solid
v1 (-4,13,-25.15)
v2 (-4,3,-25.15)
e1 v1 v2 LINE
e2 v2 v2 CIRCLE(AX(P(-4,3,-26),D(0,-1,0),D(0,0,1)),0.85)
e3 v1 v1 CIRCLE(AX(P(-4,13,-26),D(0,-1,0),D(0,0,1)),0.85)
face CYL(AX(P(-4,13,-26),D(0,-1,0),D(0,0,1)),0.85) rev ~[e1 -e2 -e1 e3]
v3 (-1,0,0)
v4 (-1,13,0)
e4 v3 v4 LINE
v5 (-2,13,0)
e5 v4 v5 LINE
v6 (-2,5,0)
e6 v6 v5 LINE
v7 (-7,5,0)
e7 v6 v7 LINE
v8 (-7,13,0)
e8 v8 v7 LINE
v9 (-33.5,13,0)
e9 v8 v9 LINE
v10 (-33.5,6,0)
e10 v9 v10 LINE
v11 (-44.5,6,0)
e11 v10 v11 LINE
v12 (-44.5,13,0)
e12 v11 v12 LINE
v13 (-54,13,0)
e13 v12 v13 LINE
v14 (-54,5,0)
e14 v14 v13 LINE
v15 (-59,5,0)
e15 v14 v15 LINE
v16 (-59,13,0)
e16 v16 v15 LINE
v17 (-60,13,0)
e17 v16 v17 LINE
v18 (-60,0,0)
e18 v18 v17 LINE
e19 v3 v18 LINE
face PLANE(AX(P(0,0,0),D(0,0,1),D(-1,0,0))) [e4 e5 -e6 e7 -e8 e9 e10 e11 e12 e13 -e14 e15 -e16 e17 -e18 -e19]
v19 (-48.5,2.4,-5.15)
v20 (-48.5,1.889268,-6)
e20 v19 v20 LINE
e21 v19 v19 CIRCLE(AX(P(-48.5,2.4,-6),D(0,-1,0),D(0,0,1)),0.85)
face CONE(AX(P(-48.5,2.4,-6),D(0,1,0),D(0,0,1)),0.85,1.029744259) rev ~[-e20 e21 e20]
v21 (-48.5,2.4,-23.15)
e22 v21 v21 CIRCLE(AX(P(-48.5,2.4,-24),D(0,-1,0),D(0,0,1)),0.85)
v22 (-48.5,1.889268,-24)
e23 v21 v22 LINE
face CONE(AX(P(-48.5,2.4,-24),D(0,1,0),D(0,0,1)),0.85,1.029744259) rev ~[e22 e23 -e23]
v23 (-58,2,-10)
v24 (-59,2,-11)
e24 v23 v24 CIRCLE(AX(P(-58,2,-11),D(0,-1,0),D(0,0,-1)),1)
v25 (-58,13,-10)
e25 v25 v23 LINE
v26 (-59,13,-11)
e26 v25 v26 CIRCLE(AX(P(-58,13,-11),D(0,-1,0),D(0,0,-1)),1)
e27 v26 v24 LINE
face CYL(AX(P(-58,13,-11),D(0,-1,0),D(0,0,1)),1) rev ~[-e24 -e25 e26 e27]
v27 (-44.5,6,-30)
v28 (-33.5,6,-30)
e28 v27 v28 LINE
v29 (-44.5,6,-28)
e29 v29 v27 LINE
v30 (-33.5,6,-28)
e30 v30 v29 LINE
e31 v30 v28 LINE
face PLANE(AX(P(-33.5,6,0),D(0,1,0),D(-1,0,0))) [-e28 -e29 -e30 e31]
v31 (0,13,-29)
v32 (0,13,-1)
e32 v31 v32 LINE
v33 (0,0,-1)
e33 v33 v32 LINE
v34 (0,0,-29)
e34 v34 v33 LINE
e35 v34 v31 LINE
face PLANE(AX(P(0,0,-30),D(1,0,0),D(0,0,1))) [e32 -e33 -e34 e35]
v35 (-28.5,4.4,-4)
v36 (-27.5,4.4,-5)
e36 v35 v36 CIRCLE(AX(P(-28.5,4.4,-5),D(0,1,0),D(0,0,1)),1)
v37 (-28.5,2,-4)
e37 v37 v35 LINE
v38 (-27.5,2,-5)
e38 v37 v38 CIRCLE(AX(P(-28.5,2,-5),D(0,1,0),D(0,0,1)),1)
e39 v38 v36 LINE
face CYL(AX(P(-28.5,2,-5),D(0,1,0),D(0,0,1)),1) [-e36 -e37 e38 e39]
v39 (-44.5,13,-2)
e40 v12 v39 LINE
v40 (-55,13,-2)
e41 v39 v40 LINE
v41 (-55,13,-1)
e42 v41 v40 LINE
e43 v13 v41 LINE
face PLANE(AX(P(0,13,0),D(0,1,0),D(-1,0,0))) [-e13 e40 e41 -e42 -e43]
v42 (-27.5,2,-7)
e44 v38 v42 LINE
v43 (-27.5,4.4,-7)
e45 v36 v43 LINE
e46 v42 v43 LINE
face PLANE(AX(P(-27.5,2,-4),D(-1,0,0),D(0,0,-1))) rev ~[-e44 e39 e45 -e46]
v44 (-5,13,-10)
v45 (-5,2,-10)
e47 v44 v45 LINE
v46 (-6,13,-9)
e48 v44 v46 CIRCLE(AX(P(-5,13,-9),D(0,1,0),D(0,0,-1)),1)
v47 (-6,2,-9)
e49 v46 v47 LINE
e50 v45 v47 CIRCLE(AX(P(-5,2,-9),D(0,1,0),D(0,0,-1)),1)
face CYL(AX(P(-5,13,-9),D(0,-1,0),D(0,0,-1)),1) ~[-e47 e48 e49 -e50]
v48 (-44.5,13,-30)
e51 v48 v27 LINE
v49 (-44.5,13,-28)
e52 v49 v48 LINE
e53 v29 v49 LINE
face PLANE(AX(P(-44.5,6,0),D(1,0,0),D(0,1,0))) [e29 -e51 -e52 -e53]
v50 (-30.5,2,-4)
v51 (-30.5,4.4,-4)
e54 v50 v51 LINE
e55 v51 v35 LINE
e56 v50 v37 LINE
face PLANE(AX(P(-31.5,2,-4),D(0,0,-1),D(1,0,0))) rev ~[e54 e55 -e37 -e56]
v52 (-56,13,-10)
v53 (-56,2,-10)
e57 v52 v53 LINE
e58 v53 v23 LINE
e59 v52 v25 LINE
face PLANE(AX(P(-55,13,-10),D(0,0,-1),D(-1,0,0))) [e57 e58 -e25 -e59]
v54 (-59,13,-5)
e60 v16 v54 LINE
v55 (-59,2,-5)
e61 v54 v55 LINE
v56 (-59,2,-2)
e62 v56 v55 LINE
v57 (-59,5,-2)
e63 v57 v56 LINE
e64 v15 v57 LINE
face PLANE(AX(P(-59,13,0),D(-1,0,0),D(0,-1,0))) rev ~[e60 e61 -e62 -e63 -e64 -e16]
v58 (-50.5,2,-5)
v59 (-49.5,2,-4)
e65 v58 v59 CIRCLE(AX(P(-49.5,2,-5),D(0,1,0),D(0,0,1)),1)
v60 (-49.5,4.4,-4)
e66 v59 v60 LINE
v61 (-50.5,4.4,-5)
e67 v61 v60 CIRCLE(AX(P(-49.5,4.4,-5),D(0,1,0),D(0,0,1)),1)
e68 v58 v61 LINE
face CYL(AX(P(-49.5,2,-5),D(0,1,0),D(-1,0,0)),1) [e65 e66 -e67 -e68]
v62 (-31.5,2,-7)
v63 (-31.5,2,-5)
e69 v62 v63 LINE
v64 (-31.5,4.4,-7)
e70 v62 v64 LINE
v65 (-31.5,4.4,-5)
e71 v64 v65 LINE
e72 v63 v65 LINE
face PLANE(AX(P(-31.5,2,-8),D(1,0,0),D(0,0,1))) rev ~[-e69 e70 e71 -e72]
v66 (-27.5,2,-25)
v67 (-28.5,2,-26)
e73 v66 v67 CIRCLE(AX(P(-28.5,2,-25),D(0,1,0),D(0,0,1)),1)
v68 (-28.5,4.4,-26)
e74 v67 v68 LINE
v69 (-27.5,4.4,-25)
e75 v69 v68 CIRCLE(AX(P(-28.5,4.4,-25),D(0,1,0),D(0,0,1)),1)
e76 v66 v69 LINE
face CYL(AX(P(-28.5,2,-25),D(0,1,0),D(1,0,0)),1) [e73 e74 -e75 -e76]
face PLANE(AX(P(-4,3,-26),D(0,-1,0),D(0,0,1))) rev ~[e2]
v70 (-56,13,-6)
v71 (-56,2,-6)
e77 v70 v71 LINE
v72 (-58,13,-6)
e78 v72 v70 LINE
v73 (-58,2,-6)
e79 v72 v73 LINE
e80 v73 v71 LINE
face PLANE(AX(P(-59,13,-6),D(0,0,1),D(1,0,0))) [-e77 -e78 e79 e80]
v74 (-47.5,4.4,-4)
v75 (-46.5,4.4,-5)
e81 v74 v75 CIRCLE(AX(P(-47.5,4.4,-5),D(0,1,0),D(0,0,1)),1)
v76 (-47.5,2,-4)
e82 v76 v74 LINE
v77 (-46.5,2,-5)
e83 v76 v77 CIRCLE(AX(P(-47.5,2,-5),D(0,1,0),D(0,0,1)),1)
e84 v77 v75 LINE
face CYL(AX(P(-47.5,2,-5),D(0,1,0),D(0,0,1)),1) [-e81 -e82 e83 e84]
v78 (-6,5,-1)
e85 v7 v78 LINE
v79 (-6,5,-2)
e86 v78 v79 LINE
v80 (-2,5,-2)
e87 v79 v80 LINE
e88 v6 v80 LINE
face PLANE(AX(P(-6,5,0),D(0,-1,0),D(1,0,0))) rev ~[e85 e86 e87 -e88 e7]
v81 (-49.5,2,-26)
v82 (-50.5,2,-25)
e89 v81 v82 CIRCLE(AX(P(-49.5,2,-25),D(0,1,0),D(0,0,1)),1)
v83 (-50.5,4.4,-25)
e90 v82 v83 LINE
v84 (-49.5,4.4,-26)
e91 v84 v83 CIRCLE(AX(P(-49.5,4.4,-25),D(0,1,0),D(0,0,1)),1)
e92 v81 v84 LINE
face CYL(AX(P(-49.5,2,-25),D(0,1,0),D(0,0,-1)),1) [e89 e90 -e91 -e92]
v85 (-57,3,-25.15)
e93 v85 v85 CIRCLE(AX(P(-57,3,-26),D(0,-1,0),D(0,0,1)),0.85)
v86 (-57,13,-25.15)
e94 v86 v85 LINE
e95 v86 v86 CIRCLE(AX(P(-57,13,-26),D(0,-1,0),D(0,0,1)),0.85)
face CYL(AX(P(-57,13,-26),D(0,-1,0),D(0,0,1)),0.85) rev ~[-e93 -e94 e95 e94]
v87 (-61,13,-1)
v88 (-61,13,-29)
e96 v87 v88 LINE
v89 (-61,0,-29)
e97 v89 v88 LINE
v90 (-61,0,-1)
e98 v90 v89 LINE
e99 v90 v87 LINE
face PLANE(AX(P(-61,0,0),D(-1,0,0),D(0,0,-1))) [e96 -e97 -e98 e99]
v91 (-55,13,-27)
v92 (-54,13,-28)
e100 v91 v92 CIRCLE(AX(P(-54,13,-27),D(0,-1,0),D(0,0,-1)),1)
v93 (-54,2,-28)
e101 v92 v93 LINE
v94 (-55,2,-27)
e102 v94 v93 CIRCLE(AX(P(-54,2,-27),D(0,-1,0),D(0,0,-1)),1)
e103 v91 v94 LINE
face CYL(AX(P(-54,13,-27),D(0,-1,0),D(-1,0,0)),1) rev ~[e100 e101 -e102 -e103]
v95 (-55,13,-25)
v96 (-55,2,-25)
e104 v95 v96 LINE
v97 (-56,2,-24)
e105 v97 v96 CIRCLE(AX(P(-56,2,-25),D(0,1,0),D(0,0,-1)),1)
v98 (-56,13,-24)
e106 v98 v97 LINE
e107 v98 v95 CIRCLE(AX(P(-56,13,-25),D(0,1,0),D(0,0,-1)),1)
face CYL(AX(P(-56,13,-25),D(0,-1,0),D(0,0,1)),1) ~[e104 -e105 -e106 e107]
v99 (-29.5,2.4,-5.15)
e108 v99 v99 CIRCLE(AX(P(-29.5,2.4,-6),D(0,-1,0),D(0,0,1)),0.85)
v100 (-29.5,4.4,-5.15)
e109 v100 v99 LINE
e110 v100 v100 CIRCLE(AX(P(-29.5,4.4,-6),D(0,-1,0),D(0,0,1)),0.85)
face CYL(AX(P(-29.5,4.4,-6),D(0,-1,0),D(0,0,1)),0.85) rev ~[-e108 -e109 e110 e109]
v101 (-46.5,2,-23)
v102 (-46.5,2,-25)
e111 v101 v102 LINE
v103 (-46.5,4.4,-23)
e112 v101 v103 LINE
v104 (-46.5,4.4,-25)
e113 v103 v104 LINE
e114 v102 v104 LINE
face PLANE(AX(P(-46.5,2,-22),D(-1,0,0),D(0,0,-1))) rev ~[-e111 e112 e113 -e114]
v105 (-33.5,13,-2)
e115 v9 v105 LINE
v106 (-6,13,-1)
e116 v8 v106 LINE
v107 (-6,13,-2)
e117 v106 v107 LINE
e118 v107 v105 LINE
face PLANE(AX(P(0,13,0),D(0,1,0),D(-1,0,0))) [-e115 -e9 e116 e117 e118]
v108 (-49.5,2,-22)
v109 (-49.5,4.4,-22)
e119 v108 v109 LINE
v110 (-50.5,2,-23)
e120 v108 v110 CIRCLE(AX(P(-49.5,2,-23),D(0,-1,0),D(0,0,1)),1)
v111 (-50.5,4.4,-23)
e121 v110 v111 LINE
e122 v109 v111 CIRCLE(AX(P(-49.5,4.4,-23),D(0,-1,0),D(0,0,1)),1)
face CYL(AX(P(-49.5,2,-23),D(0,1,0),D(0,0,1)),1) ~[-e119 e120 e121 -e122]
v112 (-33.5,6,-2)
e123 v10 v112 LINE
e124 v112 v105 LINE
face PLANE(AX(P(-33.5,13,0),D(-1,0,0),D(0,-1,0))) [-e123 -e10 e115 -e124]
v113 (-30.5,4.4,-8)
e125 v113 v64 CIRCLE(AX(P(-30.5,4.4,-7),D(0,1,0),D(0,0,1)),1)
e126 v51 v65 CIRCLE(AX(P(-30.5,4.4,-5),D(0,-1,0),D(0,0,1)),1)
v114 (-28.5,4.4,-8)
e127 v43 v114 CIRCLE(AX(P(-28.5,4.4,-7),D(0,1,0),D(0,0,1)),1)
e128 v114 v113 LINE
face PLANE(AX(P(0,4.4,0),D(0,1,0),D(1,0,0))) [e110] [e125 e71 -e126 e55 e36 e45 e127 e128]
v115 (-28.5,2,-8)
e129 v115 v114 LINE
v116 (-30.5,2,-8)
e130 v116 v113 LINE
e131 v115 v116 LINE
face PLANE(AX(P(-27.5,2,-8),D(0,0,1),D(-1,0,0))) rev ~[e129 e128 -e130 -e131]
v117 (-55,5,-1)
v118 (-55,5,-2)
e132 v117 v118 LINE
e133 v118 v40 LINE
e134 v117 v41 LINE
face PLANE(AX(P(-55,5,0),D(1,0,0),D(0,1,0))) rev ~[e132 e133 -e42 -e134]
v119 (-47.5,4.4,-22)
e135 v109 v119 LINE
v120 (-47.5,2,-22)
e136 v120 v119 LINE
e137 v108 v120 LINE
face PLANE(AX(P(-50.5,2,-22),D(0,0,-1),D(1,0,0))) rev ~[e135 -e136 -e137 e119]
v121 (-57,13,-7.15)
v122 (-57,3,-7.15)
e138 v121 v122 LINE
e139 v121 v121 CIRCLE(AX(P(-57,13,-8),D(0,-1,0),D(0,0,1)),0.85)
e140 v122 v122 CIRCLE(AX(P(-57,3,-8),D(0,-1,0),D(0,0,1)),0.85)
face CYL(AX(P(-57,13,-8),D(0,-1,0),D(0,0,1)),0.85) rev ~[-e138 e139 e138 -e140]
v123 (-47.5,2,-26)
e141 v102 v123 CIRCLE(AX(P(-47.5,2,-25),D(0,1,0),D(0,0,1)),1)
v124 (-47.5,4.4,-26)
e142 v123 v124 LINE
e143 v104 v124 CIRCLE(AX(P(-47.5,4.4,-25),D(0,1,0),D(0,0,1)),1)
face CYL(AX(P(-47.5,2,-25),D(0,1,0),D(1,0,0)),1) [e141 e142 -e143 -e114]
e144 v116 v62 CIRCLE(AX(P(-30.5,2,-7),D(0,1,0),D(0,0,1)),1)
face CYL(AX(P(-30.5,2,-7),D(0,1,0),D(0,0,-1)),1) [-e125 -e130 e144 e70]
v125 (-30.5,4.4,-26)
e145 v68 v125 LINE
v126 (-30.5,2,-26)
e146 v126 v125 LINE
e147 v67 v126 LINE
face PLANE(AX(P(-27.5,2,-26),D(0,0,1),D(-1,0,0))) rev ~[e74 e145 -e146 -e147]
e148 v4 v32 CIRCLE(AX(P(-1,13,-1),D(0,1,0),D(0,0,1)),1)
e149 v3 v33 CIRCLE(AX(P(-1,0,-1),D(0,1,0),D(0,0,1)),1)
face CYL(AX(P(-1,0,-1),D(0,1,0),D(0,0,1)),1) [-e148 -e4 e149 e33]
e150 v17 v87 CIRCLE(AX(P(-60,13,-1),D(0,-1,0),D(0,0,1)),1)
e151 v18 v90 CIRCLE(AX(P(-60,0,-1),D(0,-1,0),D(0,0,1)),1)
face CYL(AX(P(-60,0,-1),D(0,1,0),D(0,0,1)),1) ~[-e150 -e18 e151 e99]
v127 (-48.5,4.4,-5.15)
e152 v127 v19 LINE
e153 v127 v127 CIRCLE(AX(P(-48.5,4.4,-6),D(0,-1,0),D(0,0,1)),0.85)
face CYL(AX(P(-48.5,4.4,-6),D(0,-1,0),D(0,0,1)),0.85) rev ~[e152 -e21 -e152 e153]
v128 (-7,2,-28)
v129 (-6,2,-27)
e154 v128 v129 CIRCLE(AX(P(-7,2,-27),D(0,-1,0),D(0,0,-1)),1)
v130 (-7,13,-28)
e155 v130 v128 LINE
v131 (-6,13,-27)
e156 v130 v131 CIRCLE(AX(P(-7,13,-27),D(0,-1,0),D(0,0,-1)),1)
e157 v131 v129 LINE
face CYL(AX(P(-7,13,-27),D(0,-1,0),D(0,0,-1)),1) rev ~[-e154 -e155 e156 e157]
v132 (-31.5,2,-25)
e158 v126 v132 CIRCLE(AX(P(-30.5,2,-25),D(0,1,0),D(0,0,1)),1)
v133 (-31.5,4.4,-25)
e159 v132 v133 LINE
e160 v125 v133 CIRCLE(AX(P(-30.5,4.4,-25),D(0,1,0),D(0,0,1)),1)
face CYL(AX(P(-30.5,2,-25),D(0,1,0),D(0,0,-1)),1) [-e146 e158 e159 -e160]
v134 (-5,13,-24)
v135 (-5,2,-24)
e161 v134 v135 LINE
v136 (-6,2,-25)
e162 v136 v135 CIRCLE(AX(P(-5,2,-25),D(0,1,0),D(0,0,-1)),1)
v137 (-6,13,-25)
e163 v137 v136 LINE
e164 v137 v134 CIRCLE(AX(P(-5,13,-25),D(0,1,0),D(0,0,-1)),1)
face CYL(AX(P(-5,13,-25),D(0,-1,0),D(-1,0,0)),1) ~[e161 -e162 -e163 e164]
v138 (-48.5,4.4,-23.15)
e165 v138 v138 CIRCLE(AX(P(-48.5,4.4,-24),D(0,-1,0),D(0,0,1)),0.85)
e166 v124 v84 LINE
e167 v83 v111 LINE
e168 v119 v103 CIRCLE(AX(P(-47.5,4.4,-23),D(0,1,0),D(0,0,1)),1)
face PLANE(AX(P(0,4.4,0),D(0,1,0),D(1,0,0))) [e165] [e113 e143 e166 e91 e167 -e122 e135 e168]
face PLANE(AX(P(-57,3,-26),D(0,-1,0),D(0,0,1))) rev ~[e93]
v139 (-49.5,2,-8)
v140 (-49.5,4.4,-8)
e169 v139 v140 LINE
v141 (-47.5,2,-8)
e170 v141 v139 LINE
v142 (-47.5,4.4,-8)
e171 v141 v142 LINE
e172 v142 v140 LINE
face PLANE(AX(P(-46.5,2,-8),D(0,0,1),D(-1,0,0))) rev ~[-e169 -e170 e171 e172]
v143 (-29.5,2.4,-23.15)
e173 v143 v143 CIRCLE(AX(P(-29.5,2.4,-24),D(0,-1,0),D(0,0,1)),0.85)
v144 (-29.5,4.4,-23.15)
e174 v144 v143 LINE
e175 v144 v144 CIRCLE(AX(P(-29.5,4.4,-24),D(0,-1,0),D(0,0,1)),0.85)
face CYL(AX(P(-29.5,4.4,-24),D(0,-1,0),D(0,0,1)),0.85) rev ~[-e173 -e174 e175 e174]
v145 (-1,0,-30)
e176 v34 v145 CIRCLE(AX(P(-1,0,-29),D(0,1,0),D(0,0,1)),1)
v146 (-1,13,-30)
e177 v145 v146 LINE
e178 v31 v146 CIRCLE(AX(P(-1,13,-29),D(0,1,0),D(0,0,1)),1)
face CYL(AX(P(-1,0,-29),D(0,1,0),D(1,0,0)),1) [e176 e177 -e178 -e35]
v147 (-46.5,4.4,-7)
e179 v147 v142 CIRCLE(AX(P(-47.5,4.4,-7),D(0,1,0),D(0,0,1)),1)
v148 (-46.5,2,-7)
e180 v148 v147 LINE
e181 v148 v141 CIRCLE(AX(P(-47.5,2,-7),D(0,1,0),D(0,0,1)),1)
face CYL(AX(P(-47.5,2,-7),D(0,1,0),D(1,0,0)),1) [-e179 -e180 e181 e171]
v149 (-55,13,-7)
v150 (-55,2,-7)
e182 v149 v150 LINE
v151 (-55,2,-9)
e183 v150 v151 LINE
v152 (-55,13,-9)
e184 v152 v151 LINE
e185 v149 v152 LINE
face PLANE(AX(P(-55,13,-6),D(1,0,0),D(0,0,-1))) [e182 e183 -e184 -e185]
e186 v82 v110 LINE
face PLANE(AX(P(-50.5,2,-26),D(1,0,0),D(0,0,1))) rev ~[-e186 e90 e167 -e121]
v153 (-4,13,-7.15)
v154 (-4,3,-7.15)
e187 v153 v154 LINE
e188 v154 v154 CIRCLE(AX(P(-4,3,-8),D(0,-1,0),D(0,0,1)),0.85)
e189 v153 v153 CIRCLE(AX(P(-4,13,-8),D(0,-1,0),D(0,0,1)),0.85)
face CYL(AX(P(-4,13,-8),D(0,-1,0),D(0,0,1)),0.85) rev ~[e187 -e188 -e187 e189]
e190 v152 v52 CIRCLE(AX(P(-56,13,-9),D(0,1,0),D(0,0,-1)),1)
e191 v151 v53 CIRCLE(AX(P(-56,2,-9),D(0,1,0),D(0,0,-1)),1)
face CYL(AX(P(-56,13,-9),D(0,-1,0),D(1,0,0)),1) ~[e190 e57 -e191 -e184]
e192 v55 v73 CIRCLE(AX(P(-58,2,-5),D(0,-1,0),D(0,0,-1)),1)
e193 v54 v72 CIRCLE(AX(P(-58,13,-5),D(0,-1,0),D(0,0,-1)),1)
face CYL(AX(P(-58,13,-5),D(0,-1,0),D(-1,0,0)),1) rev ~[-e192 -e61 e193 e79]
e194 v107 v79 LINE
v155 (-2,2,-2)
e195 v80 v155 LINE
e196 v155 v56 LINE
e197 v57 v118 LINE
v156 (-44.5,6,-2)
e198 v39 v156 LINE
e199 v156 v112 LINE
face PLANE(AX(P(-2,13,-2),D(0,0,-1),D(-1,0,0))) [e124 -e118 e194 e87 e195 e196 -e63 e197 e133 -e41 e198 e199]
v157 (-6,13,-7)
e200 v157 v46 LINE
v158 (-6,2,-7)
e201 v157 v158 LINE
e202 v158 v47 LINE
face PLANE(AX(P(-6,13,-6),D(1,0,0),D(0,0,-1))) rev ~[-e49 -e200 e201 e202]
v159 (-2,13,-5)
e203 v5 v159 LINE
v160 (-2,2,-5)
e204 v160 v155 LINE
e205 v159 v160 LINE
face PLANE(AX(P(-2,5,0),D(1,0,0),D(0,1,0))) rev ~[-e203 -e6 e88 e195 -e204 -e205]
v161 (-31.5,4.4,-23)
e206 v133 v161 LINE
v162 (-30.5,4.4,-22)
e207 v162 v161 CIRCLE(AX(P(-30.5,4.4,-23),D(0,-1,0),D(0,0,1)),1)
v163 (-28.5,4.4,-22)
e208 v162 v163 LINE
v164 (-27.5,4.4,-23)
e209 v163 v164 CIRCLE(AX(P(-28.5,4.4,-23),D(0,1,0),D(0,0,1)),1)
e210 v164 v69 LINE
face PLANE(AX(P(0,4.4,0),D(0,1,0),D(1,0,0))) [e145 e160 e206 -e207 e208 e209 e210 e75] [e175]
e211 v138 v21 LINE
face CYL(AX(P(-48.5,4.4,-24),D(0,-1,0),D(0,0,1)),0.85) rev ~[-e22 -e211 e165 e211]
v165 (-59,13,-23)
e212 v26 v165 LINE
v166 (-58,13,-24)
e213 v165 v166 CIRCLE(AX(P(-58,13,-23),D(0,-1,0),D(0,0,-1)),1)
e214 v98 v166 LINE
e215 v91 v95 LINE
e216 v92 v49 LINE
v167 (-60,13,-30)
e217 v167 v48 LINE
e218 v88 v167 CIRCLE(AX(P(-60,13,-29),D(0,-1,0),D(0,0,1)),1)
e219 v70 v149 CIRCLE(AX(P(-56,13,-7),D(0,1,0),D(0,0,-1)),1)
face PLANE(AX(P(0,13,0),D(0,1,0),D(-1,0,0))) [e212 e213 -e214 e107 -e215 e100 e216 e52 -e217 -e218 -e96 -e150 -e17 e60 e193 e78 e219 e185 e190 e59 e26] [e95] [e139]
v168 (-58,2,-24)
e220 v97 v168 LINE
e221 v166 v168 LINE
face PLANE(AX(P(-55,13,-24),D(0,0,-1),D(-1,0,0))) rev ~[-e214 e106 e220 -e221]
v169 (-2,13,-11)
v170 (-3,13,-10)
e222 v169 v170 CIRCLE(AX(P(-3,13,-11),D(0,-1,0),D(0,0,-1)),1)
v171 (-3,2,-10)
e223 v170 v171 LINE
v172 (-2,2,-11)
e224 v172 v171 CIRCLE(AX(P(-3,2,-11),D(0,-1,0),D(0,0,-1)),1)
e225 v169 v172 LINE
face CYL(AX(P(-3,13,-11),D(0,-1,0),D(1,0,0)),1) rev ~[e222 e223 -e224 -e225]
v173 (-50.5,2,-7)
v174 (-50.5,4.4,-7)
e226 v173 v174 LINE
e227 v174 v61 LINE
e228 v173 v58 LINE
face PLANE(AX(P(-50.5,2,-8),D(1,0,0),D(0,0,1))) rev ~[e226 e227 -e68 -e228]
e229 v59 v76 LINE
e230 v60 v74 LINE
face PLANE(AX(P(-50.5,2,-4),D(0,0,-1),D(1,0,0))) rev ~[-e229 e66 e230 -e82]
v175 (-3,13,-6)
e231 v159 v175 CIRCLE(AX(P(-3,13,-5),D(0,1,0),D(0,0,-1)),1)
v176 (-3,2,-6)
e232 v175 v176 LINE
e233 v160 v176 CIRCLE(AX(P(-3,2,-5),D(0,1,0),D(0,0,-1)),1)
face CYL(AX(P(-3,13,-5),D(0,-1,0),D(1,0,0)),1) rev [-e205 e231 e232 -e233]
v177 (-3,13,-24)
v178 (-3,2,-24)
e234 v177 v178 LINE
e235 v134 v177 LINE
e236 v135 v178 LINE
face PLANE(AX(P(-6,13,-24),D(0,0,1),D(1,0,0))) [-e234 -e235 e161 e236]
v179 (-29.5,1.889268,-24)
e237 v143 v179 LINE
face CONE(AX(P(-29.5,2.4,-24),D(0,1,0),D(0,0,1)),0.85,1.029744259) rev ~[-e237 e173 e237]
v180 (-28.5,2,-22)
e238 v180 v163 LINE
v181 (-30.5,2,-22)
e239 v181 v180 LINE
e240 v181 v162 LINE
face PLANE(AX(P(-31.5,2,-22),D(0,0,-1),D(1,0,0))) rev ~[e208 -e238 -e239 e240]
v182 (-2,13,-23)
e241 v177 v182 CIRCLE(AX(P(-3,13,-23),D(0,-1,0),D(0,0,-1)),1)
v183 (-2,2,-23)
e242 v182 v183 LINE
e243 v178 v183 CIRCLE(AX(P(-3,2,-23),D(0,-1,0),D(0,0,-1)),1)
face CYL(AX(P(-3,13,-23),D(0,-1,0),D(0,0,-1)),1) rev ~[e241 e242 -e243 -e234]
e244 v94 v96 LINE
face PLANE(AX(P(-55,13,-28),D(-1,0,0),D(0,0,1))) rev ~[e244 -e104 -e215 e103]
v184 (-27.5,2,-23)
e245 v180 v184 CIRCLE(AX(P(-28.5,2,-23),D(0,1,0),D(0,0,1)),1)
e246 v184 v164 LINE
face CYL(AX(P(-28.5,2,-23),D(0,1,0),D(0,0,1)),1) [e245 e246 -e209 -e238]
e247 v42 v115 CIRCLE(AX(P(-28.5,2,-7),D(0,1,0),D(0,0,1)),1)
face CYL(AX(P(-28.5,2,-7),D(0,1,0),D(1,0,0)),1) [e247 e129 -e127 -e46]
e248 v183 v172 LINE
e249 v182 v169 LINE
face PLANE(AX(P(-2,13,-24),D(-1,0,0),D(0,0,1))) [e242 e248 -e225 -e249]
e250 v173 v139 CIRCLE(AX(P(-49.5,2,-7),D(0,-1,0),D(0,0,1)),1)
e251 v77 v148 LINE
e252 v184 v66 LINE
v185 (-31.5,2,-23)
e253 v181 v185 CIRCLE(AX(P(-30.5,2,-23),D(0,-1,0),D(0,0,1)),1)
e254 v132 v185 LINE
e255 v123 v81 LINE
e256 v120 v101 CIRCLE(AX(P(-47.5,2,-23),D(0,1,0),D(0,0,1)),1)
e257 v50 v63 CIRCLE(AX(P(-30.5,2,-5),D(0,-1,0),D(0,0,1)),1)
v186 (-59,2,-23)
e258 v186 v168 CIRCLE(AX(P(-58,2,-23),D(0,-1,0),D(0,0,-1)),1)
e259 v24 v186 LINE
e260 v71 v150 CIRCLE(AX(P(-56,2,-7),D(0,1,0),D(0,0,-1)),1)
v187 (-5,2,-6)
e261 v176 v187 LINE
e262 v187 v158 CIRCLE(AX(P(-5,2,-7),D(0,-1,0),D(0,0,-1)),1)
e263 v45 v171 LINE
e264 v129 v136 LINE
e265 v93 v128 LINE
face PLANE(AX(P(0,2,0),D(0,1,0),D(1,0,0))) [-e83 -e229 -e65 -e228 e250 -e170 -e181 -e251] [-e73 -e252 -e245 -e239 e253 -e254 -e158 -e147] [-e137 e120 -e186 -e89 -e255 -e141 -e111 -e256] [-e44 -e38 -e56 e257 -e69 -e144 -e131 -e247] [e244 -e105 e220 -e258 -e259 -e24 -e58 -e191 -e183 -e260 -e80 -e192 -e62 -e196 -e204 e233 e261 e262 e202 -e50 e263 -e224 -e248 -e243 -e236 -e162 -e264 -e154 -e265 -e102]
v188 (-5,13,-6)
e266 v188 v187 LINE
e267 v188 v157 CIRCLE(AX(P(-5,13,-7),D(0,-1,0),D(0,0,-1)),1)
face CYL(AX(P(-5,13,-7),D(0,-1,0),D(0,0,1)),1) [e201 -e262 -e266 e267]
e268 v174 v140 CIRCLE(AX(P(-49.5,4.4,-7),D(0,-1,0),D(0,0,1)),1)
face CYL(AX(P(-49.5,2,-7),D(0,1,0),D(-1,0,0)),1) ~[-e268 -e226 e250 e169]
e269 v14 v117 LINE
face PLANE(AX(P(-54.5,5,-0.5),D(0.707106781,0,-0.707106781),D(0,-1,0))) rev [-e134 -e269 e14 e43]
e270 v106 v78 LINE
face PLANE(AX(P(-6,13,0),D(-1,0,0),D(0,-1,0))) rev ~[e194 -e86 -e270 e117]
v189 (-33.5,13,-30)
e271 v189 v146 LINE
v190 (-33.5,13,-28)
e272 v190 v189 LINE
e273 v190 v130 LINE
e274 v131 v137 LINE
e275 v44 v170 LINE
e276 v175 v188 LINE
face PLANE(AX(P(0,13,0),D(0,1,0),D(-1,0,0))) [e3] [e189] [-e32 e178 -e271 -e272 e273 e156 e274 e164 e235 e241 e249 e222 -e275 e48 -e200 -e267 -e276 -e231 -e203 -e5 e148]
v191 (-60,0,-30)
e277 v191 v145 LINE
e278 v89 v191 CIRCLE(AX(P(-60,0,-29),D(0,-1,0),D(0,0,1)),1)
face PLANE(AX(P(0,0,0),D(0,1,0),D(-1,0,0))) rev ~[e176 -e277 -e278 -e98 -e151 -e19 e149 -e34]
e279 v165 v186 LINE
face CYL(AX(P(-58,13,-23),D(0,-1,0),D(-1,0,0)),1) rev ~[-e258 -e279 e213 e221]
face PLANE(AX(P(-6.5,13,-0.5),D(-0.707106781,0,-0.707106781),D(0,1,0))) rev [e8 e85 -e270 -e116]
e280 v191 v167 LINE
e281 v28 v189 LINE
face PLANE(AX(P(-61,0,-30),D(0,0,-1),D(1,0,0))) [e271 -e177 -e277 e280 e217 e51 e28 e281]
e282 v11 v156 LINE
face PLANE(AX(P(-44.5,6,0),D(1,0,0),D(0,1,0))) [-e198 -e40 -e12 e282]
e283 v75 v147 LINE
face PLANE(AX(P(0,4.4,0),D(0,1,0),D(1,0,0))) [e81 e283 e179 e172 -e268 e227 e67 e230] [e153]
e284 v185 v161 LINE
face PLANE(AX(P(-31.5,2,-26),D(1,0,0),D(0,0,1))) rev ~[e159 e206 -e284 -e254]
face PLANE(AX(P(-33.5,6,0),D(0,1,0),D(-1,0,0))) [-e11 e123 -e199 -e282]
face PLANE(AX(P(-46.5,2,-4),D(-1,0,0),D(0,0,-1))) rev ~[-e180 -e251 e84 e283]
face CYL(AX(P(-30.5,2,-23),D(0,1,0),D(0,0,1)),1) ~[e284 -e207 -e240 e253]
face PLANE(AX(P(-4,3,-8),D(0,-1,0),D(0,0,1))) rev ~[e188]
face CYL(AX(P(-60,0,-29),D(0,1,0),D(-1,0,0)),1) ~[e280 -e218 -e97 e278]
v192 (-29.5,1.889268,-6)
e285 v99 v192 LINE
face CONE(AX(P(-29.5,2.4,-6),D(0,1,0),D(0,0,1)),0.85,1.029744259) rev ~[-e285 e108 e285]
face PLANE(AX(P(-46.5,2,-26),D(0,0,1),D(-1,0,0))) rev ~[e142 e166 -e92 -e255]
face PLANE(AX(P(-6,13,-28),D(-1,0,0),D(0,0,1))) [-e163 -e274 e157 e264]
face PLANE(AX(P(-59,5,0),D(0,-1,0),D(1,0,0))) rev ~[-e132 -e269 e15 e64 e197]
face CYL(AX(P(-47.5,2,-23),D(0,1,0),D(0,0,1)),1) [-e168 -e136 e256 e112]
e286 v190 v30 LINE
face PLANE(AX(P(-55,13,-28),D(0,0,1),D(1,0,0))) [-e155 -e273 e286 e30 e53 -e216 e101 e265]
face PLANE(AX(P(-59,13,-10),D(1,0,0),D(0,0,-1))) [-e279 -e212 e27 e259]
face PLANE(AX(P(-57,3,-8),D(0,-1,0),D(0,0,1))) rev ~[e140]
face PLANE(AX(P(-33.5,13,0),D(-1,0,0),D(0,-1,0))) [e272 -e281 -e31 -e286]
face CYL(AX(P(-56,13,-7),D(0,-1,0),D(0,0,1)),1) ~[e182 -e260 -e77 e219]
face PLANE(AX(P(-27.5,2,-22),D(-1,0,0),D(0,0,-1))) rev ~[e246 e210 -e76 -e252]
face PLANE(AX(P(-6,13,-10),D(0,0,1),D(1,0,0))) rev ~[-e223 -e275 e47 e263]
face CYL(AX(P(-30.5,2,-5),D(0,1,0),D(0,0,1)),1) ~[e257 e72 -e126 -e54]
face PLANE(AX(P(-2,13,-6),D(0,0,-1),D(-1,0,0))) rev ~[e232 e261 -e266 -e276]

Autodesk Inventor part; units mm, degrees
ref_plane "YZ Plane" through (0, 0, 0) normal (1, 0, 0) x (0, 1, 0)
ref_plane "XZ Plane" through (0, 0, 0) normal (0, 1, 0) x (-1, 0, 0)
ref_plane "XY Plane" through (0, 0, 0) normal (0, 0, 1) x (1, 0, 0)
sketch "Sketch1" plane through (0, 0, 0) normal (0, 1, 0) x (-1, 0, 0)
  line L0 (0, 0) -> (61, 0)
  line L1 (61, 0) -> (61, -30)
  line L2 (61, -30) -> (0, -30)
  line L3 (0, -30) -> (0, 0)
  dimension "d0" = 30
  dimension "d1" = 61
extrude "Extrusion1" add sketch "Sketch1" along normal blind 13
sketch "Sketch4" plane through (0, 13, 0) normal (0, 1, 0) x (1, 0, 0)
  line L0 (-2, 2) -> (-59, 2)
  line L1 (-59, 2) -> (-59, 28)
  line L2 (-59, 28) -> (-2, 28)
  line L3 (-2, 28) -> (-2, 2)
  line L4 (-61, 0) -> (-61, 30) projected
  line L5 (0, 0) -> (-61, 0) projected
  line L6 (0, 30) -> (-61, 30) projected
  line L7 (0, 0) -> (0, 30) projected
  line L8 (-55, 24) -> (-59, 24)
  line L9 (-59, 24) -> (-59, 28)
  line L10 (-59, 28) -> (-55, 28)
  line L11 (-55, 28) -> (-55, 24)
  line L12 (-2, 28) -> (-6, 28)
  line L13 (-6, 28) -> (-6, 24)
  line L14 (-6, 24) -> (-2, 24)
  line L15 (-2, 24) -> (-2, 28)
  line L16 (-59, 6) -> (-55, 6)
  line L17 (-55, 6) -> (-55, 10)
  line L18 (-55, 10) -> (-59, 10)
  line L19 (-59, 10) -> (-59, 6)
  line L20 (-2, 6) -> (-6, 6)
  line L21 (-6, 6) -> (-6, 10)
  line L22 (-6, 10) -> (-2, 10)
  line L23 (-2, 10) -> (-2, 6)
  dimension "d18" = 2
  dimension "d19" = 2
  dimension "d20" = 2
  dimension "d21" = 2
  dimension "d26" = 4
  dimension "d27" = 4
  dimension "d30" = 4
  dimension "d31" = 4
  dimension "d53" = 4
  dimension "d54" = 4
  dimension "d57" = 0
  dimension "d61" = 6
  dimension "d139" = 4
  dimension "d140" = 4
  dimension "d141" = 0
  dimension "d142" = 6
extrude "Extrusion3" cut sketch "Sketch4" against normal blind 11 contours L0 L1 L16 L17 L18 L8 L11 L2 L13 L14 L3 L22 L21 L20
sketch "Sketch5" plane through (-61, 0, 0) normal (0, 0, 1) x (1, 0, 0)
  line L0 (16.5, 13) -> (27.5, 13)
  line L1 (27.5, 13) -> (27.5, 6)
  line L2 (27.5, 6) -> (16.5, 6)
  line L3 (16.5, 6) -> (16.5, 13)
  line L4 (61, 0) -> (61, 13) projected
  line L5 (59, 13) -> (2, 13) projected
  line L6 (0, 0) -> (0, 13) projected
  point P0 (55, 13)
  point P1 (6, 13)
  dimension "d38" = 11
  dimension "d39" = 7
  dimension "d41" = 0
  dimension "d48" = 16.5
extrude "Extrusion6" cut sketch "Sketch5" against normal through all
sketch "Sketch6" plane through (-61, 0, 0) normal (0, 0, 1) x (1, 0, 0)
  line L0 (55, 5) -> (59, 5)
  line L1 (59, 5) -> (59, 13)
  line L2 (59, 13) -> (55, 13)
  line L3 (55, 13) -> (55, 5)
  line L4 (61, 0) -> (61, 13) projected
  line L5 (27.5, 13) -> (61, 13) projected
  line L6 (61, 0) -> (0, 0) projected
  line L7 (2, 5) -> (6, 5)
  line L8 (6, 5) -> (6, 13)
  line L9 (6, 13) -> (2, 13)
  line L10 (2, 13) -> (2, 5)
  line L11 (0, 13) -> (16.5, 13) projected
  line L12 (0, 0) -> (0, 13) projected
  dimension "d45" = 6
  dimension "d47" = 0
  dimension "d50" = 4
  dimension "d63" = 5
  dimension "d64" = 0
  dimension "d65" = 4
  dimension "d66" = 5
  dimension "d67" = 6
extrude "Extrusion7" cut sketch "Sketch6" against normal blind 2
sketch "Sketch9" plane through (0, 2, 0) normal (0, 1, 0) x (1, 0, 0)
  line L0 (-55, 2) -> (-55, 0) projected
  line L1 (-55, 0) -> (-44.5, 0) projected
  line L2 (-44.5, 0) -> (-44.5, 2) projected
  line L3 (-44.5, 2) -> (-55, 2) projected
  line L4 (-6, 0) -> (-6, 2) projected
  line L5 (-6, 2) -> (-33.5, 2) projected
  line L6 (-33.5, 2) -> (-33.5, 0) projected
  line L7 (-33.5, 0) -> (-6, 0) projected
  line L8 (-44.5, 2) -> (-55, 2) projected
  line L9 (-50.5, 4) -> (-46.5, 4)
  line L10 (-46.5, 4) -> (-46.5, 8)
  line L11 (-46.5, 8) -> (-50.5, 8)
  line L12 (-50.5, 8) -> (-50.5, 4)
  line L13 (-46.5, 22) -> (-46.5, 26)
  line L14 (-46.5, 26) -> (-50.5, 26)
  line L15 (-50.5, 26) -> (-50.5, 22)
  line L16 (-50.5, 22) -> (-46.5, 22)
  line L17 (-27.5, 4) -> (-27.5, 8)
  line L18 (-27.5, 8) -> (-31.5, 8)
  line L19 (-31.5, 8) -> (-31.5, 4)
  line L20 (-31.5, 4) -> (-27.5, 4)
  line L21 (-27.5, 22) -> (-27.5, 26)
  line L22 (-27.5, 26) -> (-31.5, 26)
  line L23 (-31.5, 26) -> (-31.5, 22)
  line L24 (-31.5, 22) -> (-27.5, 22)
  line L25 (-55, 28) -> (-6, 28) projected
  line L26 (-44.5, 30) -> (-61, 30) projected
  dimension "d202" = 4
  dimension "d203" = 4
  dimension "d204" = 2
  dimension "d205" = 2
  dimension "d208" = 18
  dimension "d211" = 19
  dimension "d231" = 2
  dimension "d232" = 30
  dimension "d233" = 2
extrude "Extrusion8" add sketch "Sketch9" along normal blind 2.4 contours L12 L11 L10 L9 | L16 L15 L14 L13 | L20 L19 L18 L17 | L24 L23 L22 L21
chamfer "Chamfer2" distance 1 angle 45 2 edges at (-55, 9, 0) (-6, 9, 0)
fillet "Fillet1" radius 1 34 edges at (-61, 6.5, 0) (0, 6.5, 0) (0, 6.5, -30) (-61, 6.5, -30) (-55, 7.5, -24) (-59, 7.5, -24) (-55, 7.5, -28) (-59, 7.5, -6) (-55, 7.5, -6) (-55, 7.5, -10) (-59, 7.5, -10) (-2, 7.5, -6) (-6, 7.5, -6) (-6, 7.5, -10) (-2, 7.5, -10) (-6, 7.5, -24) (-2, 7.5, -24) (-6, 7.5, -28) (-31.5, 3.2, -22) (-27.5, 3.2, -22) (-46.5, 3.2, -22) (-50.5, 3.2, -22) (-46.5, 3.2, -8) (-50.5, 3.2, -8) (-31.5, 3.2, -8) (-27.5, 3.2, -8) (-46.5, 3.2, -4) (-50.5, 3.2, -4) (-31.5, 3.2, -4) (-27.5, 3.2, -4) (-50.5, 3.2, -26) (-46.5, 3.2, -26) (-31.5, 3.2, -26) (-27.5, 3.2, -26)
sketch "Sketch7" plane through (0, 13, 0) normal (0, 1, 0) x (1, 0, 0)
  circle A0 centre (-57, 26) radius 0.75
  circle A1 centre (-4, 26) radius 0.75
  circle A2 centre (-57, 8) radius 0.75
  line L0 (-55, 24) -> (-55, 28) projected
  line L1 (-59, 24) -> (-55, 24) projected
  line L2 (-6, 24) -> (-2, 24) projected
  line L3 (-6, 28) -> (-6, 24) projected
  line L4 (-55, 6) -> (-55, 10) projected
  line L5 (-59, 6) -> (-55, 6) projected
  circle A3 centre (-4, 8) radius 0.75
  line L6 (-6, 10) -> (-6, 6) projected
  line L7 (-6, 6) -> (-2, 6) projected
  point P0 (0, 0)
  dimension "d68" = 1.5
  dimension "d70" = 1.5
  dimension "d71" = 1.5
  dimension "d72" = 2
  dimension "d73" = 2
  dimension "d74" = 2
  dimension "d75" = 2
  dimension "d78" = 2
  dimension "d79" = 2
  dimension "d143" = 1.5
  dimension "d145" = 2
  dimension "d146" = 2
hole "Hole1" at (-57, 13, -26) at (-4, 13, -26) at (-57, 13, -8) at (-4, 13, -8) direction (0, -1, 0) diameter 1.7 depth 10
sketch "Sketch14" plane through (0, 4.4, 0) normal (0, 1, 0) x (1, 0, 0)
  line L0 (-50.5, 7) -> (-50.5, 5) projected
  line L1 (-47.5, 8) -> (-49.5, 8) projected
  point P0 (0, 0)
  point P1 (-48.5, 6)
  point P2 (-49, 3)
  point P3 (-48.5, 24)
  point P4 (-29.5, 6)
  point P5 (-29.5, 24)
  point P6 (-49, 4)
  dimension "d214" = 2
  dimension "d215" = 2
  dimension "d218" = 18
  dimension "d221" = 19
hole "Hole4" at (-48.5, 4.4, -6) at (-48.5, 4.4, -24) at (-29.5, 4.4, -6) at (-29.5, 4.4, -24) direction (0, -1, 0) diameter 1.7 depth 2 tip angle 118
properties part number "Link Adapter"
